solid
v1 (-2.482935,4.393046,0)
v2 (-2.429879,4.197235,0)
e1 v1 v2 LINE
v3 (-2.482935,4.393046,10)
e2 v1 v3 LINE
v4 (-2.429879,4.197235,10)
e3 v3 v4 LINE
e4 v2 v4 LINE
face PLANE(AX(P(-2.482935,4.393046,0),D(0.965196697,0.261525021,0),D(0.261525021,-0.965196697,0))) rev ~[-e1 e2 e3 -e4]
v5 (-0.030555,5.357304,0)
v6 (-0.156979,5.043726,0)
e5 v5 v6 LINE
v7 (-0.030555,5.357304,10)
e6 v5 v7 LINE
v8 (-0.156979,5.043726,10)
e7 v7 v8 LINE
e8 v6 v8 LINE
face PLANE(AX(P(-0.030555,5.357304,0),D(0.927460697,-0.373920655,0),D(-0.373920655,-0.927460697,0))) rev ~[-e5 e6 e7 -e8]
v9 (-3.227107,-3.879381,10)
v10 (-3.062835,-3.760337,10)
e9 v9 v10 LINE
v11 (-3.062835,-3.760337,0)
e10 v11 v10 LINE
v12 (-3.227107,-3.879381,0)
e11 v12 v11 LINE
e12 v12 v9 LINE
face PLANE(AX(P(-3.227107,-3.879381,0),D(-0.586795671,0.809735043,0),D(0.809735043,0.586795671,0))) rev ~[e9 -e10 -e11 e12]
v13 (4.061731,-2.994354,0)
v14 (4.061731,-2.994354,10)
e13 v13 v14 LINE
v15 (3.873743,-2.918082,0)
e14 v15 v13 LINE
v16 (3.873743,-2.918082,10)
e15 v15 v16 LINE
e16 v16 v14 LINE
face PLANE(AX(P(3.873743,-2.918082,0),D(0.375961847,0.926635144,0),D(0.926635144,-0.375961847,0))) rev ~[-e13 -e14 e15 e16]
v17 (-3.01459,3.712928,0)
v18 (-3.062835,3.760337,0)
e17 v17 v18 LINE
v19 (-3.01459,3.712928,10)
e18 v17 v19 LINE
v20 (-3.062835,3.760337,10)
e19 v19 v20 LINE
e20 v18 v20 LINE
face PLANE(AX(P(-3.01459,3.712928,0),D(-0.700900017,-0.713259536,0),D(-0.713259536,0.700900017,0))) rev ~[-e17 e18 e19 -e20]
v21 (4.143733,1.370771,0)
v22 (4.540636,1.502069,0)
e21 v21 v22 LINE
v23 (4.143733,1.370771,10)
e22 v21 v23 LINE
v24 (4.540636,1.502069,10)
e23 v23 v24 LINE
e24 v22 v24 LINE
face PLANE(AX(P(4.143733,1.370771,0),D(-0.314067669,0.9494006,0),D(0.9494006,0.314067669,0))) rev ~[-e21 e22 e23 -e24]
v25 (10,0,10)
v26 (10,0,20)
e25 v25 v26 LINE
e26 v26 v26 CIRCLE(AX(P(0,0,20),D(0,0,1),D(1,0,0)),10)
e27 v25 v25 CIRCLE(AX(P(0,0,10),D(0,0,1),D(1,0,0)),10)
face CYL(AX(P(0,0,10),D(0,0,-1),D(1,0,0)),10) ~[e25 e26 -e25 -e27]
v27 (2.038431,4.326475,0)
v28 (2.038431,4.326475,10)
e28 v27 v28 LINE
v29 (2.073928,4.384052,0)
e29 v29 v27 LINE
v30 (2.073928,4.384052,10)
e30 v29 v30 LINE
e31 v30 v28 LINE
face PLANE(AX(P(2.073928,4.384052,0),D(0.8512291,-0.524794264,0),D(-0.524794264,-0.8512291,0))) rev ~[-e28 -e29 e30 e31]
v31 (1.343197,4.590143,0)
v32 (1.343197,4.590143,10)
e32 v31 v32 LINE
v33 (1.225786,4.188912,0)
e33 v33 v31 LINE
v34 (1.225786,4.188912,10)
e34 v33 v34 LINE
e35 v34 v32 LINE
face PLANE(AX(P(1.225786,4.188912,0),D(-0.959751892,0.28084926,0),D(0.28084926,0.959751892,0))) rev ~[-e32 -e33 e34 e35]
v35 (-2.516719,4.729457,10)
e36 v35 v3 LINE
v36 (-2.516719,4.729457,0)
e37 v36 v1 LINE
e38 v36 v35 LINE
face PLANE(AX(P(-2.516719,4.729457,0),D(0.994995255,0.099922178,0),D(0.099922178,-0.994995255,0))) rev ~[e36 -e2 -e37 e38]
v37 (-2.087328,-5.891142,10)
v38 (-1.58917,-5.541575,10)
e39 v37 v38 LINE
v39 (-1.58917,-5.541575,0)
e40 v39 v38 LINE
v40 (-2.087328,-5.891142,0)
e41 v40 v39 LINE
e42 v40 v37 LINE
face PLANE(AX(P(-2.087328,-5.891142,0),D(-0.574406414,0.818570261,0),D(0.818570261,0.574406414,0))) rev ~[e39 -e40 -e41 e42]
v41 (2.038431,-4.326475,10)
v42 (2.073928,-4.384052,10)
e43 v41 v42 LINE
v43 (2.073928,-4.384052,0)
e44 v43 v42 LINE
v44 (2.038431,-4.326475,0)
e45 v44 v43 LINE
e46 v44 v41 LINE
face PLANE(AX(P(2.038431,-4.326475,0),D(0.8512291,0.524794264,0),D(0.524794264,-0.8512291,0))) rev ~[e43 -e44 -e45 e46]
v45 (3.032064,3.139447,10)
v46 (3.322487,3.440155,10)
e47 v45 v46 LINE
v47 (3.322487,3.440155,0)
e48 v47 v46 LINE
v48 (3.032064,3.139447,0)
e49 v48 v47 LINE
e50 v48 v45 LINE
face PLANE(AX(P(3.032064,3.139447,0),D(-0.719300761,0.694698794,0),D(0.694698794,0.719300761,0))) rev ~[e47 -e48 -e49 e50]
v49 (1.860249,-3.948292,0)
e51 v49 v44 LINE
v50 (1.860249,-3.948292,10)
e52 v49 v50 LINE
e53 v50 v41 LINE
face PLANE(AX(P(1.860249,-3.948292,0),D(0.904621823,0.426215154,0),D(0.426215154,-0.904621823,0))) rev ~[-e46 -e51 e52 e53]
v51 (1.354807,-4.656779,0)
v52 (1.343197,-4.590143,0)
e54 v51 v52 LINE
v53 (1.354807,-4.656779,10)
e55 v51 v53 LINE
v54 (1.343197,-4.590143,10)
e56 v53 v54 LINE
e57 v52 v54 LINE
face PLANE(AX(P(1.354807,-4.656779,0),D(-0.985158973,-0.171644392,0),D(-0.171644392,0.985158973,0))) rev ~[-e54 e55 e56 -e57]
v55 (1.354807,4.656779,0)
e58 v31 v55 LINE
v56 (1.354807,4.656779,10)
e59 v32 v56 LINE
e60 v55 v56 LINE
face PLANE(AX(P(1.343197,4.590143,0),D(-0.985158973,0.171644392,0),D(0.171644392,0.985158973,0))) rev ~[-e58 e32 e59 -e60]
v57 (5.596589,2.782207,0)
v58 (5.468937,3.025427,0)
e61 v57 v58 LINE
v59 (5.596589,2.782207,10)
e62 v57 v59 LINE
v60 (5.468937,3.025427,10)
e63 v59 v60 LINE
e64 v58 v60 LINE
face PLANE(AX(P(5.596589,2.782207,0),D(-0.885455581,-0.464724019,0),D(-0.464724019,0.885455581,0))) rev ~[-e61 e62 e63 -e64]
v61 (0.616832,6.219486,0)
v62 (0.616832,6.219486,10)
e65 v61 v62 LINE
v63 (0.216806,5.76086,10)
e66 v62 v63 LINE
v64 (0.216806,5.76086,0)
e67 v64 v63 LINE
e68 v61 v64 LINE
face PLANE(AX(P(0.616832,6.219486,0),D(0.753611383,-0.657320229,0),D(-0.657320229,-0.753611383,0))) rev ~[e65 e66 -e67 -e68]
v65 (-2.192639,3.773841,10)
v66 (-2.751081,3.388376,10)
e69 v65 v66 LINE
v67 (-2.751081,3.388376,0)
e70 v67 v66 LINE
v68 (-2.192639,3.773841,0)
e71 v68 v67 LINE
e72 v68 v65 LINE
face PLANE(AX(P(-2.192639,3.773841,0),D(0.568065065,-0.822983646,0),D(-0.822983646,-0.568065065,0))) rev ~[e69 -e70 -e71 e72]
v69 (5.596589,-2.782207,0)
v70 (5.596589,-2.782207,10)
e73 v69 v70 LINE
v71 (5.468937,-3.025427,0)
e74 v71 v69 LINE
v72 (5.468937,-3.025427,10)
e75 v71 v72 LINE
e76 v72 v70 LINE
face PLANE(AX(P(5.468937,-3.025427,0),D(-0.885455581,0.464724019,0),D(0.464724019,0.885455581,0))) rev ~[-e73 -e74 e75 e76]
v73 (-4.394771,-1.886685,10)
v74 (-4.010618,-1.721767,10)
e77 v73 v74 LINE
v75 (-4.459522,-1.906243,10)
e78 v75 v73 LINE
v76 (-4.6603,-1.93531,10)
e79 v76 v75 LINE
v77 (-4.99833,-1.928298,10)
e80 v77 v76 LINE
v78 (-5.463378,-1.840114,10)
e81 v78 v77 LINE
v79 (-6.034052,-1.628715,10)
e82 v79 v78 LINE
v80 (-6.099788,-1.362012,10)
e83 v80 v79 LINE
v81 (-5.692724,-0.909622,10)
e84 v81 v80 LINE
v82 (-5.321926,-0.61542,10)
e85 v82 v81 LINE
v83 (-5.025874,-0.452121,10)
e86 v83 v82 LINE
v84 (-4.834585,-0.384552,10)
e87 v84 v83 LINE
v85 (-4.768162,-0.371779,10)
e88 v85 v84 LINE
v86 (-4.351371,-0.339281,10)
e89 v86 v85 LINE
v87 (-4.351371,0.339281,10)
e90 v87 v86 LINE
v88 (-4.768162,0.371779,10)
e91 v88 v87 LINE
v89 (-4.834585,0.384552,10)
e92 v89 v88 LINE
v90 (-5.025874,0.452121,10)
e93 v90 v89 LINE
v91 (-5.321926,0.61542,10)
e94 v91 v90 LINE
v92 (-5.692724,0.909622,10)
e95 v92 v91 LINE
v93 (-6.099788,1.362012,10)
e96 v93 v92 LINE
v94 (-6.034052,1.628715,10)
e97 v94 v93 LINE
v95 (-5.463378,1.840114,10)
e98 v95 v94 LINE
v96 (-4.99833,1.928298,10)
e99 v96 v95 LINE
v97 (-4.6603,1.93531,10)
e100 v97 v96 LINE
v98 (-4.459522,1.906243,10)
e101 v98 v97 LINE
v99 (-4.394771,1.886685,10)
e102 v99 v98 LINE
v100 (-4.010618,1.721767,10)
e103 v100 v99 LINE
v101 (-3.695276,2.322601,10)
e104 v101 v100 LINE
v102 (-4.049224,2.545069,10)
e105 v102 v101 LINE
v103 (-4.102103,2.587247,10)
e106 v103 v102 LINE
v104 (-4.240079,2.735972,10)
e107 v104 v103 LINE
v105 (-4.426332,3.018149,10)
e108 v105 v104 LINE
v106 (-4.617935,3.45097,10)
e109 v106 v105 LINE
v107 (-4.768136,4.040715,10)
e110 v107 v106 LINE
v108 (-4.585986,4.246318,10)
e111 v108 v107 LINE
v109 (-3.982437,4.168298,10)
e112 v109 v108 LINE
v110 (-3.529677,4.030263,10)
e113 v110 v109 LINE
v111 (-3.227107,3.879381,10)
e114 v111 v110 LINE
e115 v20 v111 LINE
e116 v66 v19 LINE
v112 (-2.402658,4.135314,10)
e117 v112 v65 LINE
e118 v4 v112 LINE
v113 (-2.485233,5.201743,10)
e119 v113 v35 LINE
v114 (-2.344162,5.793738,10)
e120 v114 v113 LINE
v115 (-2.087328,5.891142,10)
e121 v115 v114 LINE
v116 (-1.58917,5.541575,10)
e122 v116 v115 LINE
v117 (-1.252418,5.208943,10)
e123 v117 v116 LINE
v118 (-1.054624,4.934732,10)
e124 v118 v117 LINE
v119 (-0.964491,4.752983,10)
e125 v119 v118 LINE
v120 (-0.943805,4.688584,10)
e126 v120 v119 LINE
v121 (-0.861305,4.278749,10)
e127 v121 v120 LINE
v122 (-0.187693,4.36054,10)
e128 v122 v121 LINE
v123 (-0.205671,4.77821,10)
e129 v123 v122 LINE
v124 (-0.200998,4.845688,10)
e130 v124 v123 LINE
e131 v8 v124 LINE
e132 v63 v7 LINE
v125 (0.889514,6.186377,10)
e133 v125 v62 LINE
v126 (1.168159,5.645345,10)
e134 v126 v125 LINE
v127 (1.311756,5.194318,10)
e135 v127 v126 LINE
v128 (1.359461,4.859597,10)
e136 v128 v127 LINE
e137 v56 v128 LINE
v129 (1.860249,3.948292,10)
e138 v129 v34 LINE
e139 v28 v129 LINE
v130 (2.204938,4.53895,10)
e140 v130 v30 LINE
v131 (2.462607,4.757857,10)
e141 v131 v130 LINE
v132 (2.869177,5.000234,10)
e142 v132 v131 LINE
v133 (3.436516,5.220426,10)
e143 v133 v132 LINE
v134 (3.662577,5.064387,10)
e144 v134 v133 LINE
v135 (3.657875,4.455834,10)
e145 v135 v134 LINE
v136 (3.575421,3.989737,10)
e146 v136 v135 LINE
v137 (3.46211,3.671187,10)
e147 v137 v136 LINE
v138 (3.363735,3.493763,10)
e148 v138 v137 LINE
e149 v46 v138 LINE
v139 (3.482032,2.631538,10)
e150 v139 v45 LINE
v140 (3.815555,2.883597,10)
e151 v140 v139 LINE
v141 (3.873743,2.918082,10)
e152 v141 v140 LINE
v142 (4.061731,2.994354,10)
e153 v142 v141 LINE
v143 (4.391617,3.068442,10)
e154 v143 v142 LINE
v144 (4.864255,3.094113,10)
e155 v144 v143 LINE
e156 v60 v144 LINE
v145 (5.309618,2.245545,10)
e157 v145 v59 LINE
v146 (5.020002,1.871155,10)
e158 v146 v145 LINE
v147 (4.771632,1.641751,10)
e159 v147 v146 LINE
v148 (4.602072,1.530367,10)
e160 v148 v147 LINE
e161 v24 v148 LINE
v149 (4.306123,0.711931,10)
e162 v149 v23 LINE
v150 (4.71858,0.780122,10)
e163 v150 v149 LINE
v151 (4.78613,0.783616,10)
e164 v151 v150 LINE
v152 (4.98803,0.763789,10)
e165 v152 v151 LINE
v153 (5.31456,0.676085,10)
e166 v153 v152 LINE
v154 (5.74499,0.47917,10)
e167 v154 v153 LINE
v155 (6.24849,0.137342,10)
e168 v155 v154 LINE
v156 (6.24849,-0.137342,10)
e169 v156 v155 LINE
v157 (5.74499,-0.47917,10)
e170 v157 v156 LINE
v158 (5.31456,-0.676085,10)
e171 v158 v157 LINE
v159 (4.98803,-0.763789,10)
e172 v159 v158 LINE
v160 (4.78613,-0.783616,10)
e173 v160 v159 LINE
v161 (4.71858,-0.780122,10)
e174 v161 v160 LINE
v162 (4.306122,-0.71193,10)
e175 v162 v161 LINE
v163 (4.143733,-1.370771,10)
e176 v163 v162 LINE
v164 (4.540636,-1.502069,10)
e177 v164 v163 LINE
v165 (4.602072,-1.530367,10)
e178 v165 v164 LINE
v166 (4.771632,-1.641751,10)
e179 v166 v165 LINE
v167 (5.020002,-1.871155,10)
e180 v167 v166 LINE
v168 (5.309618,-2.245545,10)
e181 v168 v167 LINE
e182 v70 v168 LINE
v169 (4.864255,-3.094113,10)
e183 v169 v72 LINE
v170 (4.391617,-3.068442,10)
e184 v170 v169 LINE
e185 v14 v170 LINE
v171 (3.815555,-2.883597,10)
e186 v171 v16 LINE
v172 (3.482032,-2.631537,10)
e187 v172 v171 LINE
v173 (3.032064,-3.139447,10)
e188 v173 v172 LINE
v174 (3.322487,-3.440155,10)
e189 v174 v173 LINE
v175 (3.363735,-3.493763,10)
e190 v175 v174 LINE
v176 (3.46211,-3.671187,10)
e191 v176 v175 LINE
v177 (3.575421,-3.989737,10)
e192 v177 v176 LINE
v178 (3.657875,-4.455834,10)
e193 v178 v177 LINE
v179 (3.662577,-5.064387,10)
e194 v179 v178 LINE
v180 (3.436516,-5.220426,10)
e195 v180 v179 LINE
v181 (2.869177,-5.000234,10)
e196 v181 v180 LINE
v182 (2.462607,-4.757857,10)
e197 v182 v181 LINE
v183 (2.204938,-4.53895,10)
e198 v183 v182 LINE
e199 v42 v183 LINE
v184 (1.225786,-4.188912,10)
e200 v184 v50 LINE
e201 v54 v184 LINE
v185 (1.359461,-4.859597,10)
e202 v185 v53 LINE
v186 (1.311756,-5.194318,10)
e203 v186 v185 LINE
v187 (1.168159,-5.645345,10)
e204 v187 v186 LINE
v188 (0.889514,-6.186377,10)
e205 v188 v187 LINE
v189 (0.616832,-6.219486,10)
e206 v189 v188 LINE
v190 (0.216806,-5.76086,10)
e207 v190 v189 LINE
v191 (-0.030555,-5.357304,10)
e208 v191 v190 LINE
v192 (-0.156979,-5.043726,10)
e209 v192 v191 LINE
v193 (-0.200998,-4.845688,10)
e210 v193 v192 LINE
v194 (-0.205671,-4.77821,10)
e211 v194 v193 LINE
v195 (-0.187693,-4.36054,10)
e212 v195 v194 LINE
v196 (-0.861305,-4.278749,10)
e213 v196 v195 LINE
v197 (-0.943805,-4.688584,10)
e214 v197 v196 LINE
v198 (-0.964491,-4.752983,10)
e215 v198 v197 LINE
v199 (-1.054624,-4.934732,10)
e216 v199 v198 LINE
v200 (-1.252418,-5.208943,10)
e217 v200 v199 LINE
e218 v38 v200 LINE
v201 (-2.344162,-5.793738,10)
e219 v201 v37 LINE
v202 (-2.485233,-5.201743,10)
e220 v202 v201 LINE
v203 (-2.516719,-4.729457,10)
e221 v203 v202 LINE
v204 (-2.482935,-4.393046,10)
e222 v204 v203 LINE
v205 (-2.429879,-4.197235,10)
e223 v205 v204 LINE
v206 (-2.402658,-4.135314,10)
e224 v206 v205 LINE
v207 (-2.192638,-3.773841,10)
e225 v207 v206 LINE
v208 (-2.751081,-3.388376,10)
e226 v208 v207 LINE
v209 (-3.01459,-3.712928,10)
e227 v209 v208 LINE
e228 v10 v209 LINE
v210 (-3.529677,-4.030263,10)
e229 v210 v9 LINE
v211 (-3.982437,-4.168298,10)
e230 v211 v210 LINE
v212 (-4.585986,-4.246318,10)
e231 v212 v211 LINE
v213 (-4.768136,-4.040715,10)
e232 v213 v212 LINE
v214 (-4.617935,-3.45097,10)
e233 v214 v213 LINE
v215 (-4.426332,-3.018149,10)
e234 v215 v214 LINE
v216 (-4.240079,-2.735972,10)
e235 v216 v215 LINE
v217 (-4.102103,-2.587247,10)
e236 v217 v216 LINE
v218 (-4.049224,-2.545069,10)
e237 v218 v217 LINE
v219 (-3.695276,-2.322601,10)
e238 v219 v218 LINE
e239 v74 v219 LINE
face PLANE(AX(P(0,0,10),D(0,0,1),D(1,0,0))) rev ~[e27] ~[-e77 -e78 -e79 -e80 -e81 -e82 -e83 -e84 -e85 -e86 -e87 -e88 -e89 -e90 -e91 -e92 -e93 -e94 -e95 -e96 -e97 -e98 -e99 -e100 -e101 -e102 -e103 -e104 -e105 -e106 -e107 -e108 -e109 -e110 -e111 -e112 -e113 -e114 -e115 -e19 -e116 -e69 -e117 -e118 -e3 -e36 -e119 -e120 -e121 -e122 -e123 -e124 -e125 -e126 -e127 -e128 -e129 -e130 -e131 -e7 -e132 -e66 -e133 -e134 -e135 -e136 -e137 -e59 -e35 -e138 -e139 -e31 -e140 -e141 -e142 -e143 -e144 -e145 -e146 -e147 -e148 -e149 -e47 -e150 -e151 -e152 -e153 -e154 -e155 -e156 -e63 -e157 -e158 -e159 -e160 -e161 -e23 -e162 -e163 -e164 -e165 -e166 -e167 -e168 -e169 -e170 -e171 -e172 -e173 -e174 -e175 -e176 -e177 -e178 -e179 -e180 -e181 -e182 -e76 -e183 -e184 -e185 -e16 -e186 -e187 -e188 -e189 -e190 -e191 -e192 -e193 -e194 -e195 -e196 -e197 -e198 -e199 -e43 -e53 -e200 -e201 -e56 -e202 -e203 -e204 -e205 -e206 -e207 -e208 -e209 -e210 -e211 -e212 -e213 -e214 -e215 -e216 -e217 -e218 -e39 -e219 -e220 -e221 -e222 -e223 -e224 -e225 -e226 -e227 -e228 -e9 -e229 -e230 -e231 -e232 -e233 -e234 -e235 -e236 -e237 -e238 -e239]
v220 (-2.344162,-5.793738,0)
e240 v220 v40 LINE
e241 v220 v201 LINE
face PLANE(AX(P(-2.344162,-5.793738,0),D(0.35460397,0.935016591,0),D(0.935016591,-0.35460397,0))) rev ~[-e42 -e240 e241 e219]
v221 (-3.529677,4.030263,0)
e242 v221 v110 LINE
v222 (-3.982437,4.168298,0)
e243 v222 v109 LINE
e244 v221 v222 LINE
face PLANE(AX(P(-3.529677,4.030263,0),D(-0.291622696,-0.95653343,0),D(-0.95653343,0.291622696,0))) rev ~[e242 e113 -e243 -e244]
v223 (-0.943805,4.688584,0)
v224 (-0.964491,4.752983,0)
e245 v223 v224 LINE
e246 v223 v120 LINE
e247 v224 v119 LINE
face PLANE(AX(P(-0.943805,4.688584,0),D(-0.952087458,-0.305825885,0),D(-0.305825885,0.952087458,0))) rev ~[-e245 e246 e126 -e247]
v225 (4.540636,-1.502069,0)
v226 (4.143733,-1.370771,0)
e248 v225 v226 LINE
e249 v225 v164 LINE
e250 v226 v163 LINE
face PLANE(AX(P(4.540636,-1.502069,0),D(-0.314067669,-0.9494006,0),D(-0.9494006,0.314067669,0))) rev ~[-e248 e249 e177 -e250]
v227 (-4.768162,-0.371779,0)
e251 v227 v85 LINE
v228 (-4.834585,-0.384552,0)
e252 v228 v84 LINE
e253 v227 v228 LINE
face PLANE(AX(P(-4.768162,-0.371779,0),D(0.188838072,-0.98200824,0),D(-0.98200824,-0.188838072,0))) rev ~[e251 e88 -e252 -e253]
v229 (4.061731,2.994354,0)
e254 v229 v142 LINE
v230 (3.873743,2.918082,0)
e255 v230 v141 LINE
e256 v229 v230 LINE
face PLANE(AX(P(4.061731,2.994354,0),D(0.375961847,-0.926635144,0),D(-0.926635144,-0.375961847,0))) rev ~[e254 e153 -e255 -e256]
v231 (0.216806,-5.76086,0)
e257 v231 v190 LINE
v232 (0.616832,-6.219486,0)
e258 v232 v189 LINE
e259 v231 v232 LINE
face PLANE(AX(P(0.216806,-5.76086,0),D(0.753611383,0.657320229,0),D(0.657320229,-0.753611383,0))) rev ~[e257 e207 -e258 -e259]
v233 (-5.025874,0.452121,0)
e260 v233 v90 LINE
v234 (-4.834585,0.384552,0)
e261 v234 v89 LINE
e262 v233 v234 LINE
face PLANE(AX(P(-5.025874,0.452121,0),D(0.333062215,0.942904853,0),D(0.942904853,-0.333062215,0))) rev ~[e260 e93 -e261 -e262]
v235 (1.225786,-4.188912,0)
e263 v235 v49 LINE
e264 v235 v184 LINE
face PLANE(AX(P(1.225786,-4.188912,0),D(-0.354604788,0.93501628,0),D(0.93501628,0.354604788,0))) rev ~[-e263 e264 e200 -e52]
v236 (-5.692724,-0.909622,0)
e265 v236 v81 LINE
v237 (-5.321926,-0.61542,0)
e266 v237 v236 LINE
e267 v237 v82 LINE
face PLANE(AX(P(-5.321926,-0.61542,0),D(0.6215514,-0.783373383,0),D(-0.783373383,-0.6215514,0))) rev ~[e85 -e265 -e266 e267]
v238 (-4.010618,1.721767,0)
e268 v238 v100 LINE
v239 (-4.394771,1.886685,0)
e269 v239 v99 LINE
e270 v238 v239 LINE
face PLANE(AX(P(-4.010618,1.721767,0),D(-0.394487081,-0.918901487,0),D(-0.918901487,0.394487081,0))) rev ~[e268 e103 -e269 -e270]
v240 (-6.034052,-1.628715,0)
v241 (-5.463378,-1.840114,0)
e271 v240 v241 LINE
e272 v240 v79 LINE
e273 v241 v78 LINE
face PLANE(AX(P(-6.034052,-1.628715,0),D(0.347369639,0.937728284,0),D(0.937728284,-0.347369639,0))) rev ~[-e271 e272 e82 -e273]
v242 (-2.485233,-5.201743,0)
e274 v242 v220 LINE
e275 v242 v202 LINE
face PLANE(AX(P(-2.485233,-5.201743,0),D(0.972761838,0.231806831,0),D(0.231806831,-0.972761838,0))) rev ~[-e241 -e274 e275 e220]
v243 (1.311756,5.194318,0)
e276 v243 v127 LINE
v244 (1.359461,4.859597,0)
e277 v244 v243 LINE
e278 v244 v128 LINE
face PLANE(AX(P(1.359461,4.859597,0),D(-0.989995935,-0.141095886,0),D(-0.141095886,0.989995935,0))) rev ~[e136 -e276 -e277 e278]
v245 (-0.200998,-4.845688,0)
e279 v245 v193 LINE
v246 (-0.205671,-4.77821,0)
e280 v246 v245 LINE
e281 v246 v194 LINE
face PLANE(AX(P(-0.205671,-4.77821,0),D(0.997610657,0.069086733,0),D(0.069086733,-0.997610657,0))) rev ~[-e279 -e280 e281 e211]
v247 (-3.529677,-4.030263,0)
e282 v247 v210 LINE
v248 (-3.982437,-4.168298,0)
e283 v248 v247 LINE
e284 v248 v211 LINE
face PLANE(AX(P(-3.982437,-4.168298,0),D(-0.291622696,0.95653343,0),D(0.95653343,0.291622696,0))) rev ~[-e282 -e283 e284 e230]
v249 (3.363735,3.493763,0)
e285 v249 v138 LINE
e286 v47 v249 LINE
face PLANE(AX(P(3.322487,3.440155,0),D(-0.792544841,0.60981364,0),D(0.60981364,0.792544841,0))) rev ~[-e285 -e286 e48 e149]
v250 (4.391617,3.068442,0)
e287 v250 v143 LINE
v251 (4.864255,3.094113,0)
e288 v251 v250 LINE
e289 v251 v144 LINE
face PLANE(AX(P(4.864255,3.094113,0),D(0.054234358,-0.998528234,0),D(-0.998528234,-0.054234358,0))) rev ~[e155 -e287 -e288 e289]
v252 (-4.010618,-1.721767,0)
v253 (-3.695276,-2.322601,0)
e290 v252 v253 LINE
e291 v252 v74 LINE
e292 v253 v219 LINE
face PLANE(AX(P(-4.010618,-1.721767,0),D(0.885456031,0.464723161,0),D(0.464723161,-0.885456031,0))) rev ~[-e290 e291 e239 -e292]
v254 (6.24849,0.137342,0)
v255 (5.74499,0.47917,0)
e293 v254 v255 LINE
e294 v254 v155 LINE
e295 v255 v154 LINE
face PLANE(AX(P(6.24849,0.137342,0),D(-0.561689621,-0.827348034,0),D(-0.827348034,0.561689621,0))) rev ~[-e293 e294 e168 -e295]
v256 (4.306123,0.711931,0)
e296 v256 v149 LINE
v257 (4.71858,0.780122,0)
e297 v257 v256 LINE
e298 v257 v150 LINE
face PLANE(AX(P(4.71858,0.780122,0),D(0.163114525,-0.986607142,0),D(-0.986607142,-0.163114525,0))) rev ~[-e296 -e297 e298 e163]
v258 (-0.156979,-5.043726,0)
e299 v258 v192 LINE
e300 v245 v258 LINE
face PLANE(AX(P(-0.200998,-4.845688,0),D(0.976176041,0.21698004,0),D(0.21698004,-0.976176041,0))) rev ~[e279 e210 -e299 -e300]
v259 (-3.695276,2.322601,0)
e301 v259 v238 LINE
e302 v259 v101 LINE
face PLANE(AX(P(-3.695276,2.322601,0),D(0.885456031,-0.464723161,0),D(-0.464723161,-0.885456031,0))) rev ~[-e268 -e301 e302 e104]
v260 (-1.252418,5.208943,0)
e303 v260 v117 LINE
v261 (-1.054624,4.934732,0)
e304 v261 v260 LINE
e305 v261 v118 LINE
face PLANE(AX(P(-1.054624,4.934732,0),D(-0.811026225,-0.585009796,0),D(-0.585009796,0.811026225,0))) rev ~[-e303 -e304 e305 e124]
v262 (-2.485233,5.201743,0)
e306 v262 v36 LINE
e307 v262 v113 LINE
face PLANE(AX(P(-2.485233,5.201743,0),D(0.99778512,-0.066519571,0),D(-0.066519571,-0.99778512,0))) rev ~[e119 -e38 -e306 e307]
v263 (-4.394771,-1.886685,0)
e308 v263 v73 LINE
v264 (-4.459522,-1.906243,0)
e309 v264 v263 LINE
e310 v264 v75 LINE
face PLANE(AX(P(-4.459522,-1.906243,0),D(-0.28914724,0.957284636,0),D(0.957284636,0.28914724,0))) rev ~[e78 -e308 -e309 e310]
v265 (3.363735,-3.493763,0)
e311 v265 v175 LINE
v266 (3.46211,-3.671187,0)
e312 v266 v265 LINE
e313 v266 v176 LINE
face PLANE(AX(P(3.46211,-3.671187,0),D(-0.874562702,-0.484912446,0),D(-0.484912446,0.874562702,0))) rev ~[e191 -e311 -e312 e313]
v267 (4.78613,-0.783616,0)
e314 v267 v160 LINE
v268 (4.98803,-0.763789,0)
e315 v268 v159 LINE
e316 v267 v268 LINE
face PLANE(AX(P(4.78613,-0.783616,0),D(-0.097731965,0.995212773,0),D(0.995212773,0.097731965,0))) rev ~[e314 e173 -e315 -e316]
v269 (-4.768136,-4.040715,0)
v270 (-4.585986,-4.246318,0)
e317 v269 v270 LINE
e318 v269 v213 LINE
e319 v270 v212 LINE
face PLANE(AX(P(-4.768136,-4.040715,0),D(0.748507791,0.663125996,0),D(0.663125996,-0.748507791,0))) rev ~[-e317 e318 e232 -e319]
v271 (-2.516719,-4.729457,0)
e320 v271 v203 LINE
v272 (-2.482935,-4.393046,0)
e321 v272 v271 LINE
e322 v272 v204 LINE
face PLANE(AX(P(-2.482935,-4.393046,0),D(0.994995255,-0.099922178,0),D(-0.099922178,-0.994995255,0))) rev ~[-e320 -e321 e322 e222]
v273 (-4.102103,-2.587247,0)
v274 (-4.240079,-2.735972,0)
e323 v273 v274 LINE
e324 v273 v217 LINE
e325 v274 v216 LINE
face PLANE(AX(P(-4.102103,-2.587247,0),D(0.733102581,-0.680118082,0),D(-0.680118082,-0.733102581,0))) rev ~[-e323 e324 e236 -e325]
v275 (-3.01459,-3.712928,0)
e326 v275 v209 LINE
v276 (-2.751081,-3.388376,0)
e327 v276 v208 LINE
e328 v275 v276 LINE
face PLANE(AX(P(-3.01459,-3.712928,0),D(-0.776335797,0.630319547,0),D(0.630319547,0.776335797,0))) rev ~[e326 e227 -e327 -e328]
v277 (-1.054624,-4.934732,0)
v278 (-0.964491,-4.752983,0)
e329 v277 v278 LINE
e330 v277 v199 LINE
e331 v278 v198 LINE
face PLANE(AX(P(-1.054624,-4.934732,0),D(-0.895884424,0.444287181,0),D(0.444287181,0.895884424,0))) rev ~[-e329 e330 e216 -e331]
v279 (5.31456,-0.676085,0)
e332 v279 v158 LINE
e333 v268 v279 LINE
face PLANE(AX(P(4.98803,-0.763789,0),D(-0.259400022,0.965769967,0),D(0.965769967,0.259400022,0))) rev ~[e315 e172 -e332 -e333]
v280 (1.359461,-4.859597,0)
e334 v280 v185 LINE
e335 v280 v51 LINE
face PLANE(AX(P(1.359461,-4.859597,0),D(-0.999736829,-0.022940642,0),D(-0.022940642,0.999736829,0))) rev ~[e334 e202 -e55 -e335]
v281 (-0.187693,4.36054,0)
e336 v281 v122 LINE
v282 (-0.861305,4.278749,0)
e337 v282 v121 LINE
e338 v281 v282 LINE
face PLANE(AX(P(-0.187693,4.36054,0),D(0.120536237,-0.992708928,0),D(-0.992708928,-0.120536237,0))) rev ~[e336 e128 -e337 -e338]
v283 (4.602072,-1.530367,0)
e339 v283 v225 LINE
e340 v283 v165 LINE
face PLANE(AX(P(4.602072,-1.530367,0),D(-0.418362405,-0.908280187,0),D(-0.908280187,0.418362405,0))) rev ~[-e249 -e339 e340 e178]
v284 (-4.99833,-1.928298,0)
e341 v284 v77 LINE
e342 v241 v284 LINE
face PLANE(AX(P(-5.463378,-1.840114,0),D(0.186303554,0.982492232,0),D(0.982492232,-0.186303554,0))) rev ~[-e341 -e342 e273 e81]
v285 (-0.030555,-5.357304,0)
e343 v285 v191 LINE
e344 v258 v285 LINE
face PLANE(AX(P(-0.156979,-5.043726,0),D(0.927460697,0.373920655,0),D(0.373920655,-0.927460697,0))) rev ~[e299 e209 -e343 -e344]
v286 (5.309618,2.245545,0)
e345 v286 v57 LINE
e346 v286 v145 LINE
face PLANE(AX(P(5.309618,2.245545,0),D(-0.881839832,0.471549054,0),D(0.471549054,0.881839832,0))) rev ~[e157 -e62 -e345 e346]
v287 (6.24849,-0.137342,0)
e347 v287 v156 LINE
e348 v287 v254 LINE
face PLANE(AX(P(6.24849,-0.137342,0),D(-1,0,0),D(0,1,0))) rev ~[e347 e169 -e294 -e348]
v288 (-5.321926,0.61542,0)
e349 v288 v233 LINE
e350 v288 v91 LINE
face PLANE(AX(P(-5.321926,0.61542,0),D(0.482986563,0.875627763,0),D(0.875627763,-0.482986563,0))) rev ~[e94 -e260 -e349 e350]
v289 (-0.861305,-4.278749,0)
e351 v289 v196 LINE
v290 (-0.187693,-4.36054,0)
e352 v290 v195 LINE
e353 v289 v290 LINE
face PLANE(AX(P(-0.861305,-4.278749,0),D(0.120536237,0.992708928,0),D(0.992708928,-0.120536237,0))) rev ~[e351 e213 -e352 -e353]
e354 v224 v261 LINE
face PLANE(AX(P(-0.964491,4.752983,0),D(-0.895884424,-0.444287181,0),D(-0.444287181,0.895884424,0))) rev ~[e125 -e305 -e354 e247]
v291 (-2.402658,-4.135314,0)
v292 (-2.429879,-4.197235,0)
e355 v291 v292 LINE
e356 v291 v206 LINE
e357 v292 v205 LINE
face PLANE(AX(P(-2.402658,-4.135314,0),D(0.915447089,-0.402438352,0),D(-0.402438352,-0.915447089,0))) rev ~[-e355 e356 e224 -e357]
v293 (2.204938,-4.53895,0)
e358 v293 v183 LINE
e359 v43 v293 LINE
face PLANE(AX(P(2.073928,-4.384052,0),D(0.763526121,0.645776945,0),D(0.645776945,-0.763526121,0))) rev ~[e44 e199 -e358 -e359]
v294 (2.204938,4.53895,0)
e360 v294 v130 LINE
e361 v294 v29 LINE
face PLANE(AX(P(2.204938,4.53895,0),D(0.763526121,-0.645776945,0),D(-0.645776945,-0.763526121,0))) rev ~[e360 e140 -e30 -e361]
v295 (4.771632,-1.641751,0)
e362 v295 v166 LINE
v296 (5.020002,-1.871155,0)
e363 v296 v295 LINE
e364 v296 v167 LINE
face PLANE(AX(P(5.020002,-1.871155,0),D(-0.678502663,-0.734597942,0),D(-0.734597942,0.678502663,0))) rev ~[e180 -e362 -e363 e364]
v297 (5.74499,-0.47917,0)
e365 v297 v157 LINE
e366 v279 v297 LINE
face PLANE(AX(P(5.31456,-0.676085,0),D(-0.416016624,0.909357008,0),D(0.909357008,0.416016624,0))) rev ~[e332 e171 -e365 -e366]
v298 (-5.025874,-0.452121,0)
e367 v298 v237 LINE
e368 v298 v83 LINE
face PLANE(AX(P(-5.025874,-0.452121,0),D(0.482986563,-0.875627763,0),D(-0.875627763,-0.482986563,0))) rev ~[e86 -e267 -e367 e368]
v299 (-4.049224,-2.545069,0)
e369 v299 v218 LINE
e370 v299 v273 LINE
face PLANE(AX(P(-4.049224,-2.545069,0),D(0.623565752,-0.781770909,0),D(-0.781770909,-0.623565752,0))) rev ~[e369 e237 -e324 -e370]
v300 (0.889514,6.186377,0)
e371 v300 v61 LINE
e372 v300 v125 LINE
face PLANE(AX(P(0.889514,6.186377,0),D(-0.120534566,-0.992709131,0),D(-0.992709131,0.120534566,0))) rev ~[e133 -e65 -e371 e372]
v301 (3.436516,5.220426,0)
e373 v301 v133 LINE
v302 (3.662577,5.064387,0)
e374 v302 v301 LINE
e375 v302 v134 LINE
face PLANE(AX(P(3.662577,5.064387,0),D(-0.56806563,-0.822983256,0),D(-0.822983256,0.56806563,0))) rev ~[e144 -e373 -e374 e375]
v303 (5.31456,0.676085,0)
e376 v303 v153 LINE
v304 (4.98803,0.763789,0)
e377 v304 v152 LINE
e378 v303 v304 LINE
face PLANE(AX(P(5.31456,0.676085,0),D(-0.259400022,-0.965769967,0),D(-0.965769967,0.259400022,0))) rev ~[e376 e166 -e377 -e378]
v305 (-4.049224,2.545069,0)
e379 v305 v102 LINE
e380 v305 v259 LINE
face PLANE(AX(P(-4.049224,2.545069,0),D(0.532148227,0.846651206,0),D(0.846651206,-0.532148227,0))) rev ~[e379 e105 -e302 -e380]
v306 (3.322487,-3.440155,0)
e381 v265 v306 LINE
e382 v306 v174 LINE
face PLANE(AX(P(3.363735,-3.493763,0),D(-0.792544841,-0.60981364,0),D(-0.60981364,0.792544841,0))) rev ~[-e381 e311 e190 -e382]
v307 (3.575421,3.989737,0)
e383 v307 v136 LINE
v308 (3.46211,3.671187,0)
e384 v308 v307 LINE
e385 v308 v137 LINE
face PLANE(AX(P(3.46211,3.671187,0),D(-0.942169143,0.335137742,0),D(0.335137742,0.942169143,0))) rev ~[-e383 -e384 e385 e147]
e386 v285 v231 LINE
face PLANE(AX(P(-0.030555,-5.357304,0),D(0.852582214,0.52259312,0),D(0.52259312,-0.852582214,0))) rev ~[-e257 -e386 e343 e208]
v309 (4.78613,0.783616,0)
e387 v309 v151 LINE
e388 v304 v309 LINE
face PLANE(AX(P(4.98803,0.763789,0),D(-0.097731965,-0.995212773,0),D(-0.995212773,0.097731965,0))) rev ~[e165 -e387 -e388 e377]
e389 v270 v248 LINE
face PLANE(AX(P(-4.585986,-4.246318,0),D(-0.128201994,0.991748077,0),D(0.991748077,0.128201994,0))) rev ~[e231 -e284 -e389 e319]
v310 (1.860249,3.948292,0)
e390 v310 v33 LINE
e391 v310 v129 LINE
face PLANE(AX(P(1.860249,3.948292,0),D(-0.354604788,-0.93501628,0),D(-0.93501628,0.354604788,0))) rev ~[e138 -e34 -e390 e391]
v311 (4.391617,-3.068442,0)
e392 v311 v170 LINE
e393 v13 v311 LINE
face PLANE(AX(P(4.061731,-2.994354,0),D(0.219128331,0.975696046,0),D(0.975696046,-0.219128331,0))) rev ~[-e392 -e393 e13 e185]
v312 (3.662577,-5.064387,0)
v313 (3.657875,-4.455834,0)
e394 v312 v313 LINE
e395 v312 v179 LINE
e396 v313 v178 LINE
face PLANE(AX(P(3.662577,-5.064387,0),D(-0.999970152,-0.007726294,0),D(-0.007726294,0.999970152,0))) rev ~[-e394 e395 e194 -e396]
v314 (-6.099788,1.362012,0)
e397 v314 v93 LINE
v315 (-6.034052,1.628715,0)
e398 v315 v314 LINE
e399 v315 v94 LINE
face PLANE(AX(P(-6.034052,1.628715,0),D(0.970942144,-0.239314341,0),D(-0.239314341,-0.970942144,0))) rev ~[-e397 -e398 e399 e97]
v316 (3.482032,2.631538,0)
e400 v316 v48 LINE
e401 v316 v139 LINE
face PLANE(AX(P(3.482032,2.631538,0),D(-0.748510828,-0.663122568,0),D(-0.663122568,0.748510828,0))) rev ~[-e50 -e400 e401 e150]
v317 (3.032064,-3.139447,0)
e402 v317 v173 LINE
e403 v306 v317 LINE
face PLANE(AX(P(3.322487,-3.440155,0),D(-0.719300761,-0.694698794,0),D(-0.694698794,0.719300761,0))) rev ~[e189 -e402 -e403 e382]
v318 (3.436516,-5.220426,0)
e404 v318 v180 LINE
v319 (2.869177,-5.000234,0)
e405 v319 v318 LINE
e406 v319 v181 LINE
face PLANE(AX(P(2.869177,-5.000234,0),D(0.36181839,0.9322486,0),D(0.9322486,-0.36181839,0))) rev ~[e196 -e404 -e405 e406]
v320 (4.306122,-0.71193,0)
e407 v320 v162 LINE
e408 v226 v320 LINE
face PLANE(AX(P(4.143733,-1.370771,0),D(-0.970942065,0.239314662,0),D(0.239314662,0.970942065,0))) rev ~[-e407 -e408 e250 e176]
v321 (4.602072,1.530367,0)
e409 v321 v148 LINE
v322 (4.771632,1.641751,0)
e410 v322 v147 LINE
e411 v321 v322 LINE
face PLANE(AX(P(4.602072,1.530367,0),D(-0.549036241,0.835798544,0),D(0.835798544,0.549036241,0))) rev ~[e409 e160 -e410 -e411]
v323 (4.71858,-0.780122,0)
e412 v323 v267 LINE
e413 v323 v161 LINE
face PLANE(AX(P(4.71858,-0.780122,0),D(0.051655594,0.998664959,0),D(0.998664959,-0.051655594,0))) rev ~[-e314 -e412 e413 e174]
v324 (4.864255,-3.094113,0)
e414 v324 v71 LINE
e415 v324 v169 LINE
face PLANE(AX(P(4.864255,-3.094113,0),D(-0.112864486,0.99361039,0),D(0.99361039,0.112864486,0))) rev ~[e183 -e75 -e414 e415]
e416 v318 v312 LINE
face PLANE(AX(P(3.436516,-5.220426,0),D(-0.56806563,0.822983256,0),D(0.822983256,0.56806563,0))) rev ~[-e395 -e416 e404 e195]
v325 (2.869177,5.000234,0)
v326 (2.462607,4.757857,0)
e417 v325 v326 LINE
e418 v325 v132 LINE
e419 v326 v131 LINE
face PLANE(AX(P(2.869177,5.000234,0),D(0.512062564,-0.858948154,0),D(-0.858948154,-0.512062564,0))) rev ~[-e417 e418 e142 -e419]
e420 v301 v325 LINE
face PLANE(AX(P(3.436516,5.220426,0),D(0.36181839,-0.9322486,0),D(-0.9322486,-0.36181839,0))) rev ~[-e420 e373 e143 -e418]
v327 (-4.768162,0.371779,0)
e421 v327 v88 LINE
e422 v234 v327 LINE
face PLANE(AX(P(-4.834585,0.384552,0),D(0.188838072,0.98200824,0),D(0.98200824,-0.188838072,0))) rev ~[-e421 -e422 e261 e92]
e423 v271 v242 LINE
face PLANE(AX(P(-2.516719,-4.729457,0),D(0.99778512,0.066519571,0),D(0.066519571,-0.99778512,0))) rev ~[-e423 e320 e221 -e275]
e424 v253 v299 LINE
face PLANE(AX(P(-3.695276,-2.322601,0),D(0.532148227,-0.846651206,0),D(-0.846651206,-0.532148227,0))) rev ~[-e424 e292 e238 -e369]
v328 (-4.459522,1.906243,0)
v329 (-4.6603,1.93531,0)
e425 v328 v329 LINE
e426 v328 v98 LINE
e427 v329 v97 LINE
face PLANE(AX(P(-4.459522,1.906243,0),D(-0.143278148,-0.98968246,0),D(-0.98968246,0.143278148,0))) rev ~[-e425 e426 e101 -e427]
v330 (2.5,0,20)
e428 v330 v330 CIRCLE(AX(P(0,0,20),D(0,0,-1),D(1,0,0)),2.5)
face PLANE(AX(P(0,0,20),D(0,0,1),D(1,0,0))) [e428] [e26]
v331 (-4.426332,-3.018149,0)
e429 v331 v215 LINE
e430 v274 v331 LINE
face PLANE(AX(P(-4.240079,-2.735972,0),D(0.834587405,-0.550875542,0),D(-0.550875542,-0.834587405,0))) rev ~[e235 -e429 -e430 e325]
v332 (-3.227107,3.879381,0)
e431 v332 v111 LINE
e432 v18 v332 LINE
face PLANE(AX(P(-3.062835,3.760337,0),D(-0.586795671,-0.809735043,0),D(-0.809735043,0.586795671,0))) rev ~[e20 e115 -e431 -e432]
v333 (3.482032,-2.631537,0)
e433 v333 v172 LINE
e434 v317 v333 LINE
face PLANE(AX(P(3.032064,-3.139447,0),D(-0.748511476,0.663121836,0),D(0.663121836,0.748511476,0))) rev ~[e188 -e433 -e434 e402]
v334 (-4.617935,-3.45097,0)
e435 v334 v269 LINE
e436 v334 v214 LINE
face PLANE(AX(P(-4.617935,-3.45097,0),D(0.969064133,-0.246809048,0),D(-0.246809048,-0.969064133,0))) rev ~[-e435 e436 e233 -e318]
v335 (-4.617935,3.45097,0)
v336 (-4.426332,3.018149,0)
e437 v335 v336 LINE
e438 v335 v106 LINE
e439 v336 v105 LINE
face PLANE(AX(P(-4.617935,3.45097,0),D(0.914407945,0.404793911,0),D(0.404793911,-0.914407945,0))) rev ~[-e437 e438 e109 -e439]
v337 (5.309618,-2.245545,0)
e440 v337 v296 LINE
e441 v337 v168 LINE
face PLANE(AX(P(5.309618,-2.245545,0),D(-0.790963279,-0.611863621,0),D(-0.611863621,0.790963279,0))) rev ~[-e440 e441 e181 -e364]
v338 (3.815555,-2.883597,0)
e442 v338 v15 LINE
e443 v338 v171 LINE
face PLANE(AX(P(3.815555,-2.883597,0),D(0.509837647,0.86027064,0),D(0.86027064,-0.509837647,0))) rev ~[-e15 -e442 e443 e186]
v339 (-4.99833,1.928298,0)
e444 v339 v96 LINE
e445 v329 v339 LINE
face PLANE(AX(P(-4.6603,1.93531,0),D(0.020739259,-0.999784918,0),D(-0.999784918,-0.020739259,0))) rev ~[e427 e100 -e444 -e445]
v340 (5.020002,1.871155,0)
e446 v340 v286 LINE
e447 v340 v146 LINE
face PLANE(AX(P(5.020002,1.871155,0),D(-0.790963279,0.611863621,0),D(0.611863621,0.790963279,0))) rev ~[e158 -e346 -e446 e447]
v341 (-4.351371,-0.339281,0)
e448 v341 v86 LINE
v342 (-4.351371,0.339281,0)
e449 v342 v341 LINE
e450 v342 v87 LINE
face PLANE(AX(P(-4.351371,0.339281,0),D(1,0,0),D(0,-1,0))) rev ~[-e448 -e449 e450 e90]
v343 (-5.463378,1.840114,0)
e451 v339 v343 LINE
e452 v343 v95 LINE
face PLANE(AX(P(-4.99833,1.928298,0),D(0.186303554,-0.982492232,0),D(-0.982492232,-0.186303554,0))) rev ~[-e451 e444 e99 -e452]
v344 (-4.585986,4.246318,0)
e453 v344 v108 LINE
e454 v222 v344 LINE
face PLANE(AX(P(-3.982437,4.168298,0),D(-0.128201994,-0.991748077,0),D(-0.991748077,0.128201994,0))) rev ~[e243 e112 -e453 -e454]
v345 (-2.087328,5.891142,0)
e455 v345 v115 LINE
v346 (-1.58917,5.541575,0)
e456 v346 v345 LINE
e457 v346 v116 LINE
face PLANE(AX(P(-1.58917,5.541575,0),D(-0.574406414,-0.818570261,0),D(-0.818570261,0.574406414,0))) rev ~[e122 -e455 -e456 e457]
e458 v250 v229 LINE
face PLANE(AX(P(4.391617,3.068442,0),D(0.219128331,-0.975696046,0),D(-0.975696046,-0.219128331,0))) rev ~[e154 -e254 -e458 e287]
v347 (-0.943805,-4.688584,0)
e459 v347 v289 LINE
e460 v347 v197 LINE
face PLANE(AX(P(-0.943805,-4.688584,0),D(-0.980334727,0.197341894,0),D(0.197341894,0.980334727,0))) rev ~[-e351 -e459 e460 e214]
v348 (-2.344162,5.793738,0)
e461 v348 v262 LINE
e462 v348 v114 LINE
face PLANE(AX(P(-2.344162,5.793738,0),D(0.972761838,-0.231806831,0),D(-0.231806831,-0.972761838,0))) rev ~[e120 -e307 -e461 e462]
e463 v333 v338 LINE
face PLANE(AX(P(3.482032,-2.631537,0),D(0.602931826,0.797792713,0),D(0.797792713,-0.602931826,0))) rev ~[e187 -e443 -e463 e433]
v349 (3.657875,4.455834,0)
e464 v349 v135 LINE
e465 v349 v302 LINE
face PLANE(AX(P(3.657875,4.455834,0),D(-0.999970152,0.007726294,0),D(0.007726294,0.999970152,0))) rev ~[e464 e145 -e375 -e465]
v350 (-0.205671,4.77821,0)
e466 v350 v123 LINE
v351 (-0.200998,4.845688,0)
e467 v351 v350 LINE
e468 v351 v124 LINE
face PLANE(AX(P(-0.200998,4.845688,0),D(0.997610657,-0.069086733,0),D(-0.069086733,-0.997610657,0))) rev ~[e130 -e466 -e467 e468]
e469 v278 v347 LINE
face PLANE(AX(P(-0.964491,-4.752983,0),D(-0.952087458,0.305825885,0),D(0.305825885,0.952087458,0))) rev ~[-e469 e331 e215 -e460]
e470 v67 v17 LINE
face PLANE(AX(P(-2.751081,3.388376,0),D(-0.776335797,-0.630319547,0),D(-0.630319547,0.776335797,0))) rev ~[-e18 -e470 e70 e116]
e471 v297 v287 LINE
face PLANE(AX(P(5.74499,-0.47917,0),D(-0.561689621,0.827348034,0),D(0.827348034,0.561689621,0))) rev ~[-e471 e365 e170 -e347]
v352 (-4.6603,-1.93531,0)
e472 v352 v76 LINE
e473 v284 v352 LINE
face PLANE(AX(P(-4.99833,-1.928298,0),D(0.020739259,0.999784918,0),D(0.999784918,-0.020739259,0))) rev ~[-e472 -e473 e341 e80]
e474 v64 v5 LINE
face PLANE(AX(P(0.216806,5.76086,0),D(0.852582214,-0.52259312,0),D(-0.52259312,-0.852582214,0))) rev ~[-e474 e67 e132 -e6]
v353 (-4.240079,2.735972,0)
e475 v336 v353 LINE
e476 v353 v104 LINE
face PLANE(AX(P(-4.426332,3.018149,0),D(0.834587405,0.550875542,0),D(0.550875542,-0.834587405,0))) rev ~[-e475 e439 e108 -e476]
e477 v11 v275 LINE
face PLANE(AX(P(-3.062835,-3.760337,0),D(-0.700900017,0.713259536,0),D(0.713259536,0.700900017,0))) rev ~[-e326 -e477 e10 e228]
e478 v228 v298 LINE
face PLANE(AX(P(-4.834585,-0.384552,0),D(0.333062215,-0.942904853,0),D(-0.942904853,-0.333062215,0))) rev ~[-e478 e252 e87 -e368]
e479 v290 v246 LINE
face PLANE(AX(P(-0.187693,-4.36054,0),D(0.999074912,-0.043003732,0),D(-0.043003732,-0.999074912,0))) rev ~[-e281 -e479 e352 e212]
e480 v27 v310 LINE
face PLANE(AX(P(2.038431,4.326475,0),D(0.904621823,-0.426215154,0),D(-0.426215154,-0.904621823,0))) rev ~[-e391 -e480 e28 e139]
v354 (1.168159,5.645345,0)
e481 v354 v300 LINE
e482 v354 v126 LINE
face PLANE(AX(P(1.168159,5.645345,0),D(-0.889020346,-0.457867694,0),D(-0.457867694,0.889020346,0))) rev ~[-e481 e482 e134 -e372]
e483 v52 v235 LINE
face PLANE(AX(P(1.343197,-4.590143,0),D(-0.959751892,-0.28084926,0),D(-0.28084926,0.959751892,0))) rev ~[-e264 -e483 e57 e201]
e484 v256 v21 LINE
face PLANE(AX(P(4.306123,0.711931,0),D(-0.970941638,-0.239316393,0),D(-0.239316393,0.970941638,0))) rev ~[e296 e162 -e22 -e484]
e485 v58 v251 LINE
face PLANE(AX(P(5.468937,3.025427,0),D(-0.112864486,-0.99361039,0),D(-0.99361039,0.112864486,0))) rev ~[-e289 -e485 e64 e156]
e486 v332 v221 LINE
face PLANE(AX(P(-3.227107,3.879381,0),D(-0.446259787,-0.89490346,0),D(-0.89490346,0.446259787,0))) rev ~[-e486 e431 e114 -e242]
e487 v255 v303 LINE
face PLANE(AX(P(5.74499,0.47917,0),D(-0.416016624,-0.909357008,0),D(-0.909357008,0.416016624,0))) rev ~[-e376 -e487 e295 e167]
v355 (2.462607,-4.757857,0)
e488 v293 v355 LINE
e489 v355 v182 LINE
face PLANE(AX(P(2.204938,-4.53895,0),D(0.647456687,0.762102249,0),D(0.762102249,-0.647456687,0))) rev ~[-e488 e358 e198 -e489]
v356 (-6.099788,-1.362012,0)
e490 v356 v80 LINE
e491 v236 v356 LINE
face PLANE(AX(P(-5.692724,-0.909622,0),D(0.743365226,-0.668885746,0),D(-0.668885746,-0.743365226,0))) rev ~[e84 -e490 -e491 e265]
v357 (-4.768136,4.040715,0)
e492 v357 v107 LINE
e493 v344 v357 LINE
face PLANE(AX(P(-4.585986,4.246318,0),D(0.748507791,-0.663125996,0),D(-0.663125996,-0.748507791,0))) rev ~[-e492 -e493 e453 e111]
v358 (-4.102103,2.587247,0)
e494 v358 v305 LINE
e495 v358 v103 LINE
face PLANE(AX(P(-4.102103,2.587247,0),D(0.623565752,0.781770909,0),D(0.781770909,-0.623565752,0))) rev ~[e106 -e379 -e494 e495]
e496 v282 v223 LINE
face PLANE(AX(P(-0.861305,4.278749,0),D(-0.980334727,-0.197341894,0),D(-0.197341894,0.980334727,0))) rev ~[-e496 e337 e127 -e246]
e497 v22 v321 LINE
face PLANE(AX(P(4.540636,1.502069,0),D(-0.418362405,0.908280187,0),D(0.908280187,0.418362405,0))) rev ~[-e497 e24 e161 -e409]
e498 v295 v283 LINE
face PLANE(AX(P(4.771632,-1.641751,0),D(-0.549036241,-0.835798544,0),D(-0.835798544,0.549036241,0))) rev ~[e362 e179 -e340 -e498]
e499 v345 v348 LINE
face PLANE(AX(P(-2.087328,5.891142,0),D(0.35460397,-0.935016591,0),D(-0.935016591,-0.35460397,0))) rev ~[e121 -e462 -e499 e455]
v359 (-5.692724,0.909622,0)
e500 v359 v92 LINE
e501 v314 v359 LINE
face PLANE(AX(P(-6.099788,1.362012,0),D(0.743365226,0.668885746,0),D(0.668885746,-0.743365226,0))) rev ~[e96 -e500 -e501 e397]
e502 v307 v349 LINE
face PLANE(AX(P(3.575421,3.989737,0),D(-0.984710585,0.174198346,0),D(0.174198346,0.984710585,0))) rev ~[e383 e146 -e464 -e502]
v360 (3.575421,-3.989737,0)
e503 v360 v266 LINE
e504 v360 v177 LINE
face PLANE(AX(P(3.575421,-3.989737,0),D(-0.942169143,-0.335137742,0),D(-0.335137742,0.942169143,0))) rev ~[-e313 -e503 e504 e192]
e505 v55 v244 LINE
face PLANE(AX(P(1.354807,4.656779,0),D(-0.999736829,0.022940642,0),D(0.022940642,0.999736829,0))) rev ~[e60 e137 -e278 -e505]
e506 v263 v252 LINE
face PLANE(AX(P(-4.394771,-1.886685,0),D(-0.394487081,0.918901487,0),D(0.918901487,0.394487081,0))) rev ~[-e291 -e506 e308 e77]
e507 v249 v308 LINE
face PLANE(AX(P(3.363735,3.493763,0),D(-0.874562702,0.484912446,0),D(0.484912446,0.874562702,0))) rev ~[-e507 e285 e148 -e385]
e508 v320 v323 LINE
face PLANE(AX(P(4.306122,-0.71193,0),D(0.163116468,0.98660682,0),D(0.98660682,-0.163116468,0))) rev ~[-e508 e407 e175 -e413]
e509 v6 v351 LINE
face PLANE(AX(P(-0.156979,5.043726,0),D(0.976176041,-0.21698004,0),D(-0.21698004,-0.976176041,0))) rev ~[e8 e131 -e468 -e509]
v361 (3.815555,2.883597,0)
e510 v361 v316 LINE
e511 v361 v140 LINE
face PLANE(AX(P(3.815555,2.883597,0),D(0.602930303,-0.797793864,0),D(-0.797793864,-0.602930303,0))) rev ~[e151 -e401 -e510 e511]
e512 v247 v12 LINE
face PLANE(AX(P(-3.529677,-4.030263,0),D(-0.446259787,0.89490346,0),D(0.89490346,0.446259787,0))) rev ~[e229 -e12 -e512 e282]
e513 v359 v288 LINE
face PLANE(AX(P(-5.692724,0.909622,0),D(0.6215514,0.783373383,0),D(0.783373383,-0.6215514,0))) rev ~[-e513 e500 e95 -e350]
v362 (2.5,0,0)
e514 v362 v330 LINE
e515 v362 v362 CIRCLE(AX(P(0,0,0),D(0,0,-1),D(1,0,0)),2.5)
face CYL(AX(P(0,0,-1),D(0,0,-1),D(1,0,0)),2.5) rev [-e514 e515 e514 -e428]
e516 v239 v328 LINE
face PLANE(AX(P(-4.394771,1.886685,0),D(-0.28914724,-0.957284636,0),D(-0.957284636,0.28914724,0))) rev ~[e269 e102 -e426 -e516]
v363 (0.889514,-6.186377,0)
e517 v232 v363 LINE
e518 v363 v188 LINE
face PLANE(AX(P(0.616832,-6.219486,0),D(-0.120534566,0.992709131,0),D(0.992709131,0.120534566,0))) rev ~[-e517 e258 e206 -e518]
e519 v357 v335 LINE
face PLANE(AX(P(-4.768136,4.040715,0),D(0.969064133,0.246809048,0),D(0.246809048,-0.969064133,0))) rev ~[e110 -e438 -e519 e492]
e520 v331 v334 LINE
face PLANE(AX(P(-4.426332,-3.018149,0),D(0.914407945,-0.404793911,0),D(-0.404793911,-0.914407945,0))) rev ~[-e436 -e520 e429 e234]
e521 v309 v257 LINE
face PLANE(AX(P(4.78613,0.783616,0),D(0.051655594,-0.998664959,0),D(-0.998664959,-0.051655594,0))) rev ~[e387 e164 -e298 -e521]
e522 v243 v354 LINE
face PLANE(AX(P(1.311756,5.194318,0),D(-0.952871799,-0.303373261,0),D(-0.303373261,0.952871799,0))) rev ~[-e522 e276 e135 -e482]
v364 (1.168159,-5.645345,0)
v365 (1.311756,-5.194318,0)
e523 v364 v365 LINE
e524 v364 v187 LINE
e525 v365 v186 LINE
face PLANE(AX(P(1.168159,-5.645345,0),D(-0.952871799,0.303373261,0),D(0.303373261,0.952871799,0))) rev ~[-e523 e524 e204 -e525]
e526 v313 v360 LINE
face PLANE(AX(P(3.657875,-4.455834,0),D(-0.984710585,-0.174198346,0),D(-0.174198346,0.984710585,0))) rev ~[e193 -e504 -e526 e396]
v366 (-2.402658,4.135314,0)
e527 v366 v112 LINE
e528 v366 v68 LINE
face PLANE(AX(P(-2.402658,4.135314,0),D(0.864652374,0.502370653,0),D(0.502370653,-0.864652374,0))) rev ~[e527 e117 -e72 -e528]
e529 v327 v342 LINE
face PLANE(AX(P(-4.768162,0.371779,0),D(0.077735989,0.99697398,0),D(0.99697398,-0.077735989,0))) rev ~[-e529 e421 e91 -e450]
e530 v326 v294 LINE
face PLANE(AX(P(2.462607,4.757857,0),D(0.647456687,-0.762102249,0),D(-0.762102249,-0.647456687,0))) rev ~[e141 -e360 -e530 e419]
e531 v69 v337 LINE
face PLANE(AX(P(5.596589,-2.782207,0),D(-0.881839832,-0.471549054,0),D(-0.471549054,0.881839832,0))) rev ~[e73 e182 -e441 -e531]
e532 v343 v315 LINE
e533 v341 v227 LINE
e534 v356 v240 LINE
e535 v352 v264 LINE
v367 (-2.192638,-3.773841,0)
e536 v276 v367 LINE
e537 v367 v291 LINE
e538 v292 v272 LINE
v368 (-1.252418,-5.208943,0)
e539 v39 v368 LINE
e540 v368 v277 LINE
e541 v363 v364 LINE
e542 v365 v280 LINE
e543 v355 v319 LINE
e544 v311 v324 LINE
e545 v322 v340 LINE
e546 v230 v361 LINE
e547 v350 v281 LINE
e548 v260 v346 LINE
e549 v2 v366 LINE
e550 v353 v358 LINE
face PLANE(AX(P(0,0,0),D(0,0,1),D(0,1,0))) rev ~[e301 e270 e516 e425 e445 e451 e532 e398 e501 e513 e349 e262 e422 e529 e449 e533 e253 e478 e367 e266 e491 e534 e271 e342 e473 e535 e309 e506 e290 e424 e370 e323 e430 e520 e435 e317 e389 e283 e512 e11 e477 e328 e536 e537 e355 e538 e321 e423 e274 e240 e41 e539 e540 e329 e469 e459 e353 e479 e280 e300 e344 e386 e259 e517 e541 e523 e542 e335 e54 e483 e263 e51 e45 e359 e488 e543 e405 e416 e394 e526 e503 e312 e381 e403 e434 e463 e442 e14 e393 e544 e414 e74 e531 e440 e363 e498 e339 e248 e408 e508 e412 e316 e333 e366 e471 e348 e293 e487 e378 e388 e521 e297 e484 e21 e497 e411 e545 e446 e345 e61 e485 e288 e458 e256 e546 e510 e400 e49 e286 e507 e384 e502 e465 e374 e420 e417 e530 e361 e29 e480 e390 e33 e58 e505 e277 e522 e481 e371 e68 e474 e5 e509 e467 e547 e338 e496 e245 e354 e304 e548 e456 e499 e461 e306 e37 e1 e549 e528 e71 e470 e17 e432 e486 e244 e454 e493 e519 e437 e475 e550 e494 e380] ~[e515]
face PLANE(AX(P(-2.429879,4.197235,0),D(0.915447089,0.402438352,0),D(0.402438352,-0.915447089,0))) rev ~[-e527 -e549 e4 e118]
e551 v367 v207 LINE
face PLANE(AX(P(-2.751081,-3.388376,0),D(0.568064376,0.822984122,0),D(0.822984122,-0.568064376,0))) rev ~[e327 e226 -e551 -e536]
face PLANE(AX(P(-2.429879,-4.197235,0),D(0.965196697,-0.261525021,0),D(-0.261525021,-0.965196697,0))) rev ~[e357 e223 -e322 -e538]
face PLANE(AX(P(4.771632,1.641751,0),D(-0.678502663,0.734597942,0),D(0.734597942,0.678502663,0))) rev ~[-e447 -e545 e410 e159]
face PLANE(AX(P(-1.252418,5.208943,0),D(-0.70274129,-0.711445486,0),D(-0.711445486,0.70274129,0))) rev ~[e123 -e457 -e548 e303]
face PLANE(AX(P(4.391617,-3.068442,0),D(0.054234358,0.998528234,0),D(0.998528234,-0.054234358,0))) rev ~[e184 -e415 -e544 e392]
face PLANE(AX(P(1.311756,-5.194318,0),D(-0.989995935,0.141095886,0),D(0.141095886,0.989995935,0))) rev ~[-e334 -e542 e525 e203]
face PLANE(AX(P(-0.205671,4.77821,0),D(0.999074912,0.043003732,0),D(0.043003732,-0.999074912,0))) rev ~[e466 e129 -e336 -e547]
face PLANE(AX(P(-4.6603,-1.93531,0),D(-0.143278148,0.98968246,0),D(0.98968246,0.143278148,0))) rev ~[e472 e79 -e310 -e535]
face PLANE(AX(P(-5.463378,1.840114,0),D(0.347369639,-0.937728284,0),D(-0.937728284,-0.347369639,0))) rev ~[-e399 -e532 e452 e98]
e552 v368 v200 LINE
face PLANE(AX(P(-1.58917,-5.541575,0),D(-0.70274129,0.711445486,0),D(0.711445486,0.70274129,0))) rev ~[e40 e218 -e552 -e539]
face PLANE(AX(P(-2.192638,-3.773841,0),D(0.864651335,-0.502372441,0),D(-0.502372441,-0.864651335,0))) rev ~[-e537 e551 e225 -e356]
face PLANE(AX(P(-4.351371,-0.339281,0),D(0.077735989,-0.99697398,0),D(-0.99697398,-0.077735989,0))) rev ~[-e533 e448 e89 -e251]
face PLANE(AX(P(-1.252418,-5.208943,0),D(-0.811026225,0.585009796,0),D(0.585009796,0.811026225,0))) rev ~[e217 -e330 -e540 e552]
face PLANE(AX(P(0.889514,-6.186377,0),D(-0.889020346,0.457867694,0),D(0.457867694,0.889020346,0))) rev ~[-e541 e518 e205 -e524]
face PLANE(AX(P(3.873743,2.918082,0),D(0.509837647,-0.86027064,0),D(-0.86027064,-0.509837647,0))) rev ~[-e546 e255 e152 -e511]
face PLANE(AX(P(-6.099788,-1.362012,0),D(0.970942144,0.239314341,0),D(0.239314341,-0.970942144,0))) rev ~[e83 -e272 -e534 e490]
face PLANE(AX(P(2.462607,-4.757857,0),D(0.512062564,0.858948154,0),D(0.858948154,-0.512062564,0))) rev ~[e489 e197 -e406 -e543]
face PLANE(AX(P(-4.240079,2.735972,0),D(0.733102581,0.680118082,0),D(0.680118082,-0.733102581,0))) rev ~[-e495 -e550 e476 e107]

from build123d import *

# Parameters (mm, degrees)
CYLINDER003_R          = 2.5
CYLINDER003_DEPTH      = 22
CYLINDER002_R          = 10
CYLINDER002_DEPTH      = 10
LINEAREXTRUDE002_DEPTH = 10


with BuildPart() as cylinder003:
    # cylinder003 → cylinder003 (new body)
    with BuildSketch(Plane.XY.offset(-1)):
        Circle(CYLINDER003_R)
    extrude(amount=CYLINDER003_DEPTH)


with BuildPart() as cylinder002:
    # cylinder002 → cylinder002 (new body)
    with BuildSketch(Plane.XY.offset(10)):
        Circle(CYLINDER002_R)
    extrude(amount=CYLINDER002_DEPTH)


with BuildPart() as difference003:
    # union002 → LinearExtrude002 (new body)
    with BuildSketch(Plane(origin=(0, 0, 0), x_dir=(0, 1, 0), z_dir=(0, 0, 1))):
        Polygon((0.711931, -4.306123), (1.370771, -4.143733), (1.502069, -4.540636), (1.530367, -4.602072), (1.641751, -4.771632), (1.871155, -5.020002), (2.245545, -5.309618), (2.782207, -5.596589), (3.025427, -5.468937), (3.094113, -4.864255), (3.068442, -4.391617), (2.994354, -4.061731), (2.918082, -3.873743), (2.883597, -3.815555), (2.631538, -3.482032), (3.139447, -3.032064), (3.440155, -3.322487), (3.493763, -3.363735), (3.671187, -3.46211), (3.989737, -3.575421), (4.455834, -3.657875), (5.064387, -3.662577), (5.220426, -3.436516), (5.000234, -2.869177), (4.757857, -2.462607), (4.53895, -2.204938), (4.384052, -2.073928), (4.326475, -2.038431), (3.948292, -1.860249), (4.188912, -1.225786), (4.590143, -1.343197), (4.656779, -1.354807), (4.859597, -1.359461), (5.194318, -1.311756), (5.645345, -1.168159), (6.186377, -0.889514), (6.219486, -0.616832), (5.76086, -0.216806), (5.357304, 0.030555), (5.043726, 0.156979), (4.845688, 0.200998), (4.77821, 0.205671), (4.36054, 0.187693), (4.278749, 0.861305), (4.688584, 0.943805), (4.752983, 0.964491), (4.934732, 1.054624), (5.208943, 1.252418), (5.541575, 1.58917), (5.891142, 2.087328), (5.793738, 2.344162), (5.201743, 2.485233), (4.729457, 2.516719), (4.393046, 2.482935), (4.197235, 2.429879), (4.135314, 2.402658), (3.773841, 2.192639), (3.388376, 2.751081), (3.712928, 3.01459), (3.760337, 3.062835), (3.879381, 3.227107), (4.030263, 3.529677), (4.168298, 3.982437), (4.246318, 4.585986), (4.040715, 4.768136), (3.45097, 4.617935), (3.018149, 4.426332), (2.735972, 4.240079), (2.587247, 4.102103), (2.545069, 4.049224), (2.322601, 3.695276), (1.721767, 4.010618), (1.886685, 4.394771), (1.906243, 4.459522), (1.93531, 4.6603), (1.928298, 4.99833), (1.840114, 5.463378), (1.628715, 6.034052), (1.362012, 6.099788), (0.909622, 5.692724), (0.61542, 5.321926), (0.452121, 5.025874), (0.384552, 4.834585), (0.371779, 4.768162), (0.339281, 4.351371), (-0.339281, 4.351371), (-0.371779, 4.768162), (-0.384552, 4.834585), (-0.452121, 5.025874), (-0.61542, 5.321926), (-0.909622, 5.692724), (-1.362012, 6.099788), (-1.628715, 6.034052), (-1.840114, 5.463378), (-1.928298, 4.99833), (-1.93531, 4.6603), (-1.906243, 4.459522), (-1.886685, 4.394771), (-1.721767, 4.010618), (-2.322601, 3.695276), (-2.545069, 4.049224), (-2.587247, 4.102103), (-2.735972, 4.240079), (-3.018149, 4.426332), (-3.45097, 4.617935), (-4.040715, 4.768136), (-4.246318, 4.585986), (-4.168298, 3.982437), (-4.030263, 3.529677), (-3.879381, 3.227107), (-3.760337, 3.062835), (-3.712928, 3.01459), (-3.388376, 2.751081), (-3.773841, 2.192638), (-4.135314, 2.402658), (-4.197235, 2.429879), (-4.393046, 2.482935), (-4.729457, 2.516719), (-5.201743, 2.485233), (-5.793738, 2.344162), (-5.891142, 2.087328), (-5.541575, 1.58917), (-5.208943, 1.252418), (-4.934732, 1.054624), (-4.752983, 0.964491), (-4.688584, 0.943805), (-4.278749, 0.861305), (-4.36054, 0.187693), (-4.77821, 0.205671), (-4.845688, 0.200998), (-5.043726, 0.156979), (-5.357304, 0.030555), (-5.76086, -0.216806), (-6.219486, -0.616832), (-6.186377, -0.889514), (-5.645345, -1.168159), (-5.194318, -1.311756), (-4.859597, -1.359461), (-4.656779, -1.354807), (-4.590143, -1.343197), (-4.188912, -1.225786), (-3.948292, -1.860249), (-4.326475, -2.038431), (-4.384052, -2.073928), (-4.53895, -2.204938), (-4.757857, -2.462607), (-5.000234, -2.869177), (-5.220426, -3.436516), (-5.064387, -3.662577), (-4.455834, -3.657875), (-3.989737, -3.575421), (-3.671187, -3.46211), (-3.493763, -3.363735), (-3.440155, -3.322487), (-3.139447, -3.032064), (-2.631537, -3.482032), (-2.883597, -3.815555), (-2.918082, -3.873743), (-2.994354, -4.061731), (-3.068442, -4.391617), (-3.094113, -4.864255), (-3.025427, -5.468937), (-2.782207, -5.596589), (-2.245545, -5.309618), (-1.871155, -5.020002), (-1.641751, -4.771632), (-1.530367, -4.602072), (-1.502069, -4.540636), (-1.370771, -4.143733), (-0.71193, -4.306122), (-0.780122, -4.71858), (-0.783616, -4.78613), (-0.763789, -4.98803), (-0.676085, -5.31456), (-0.47917, -5.74499), (-0.137342, -6.24849), (0.137342, -6.24849), (0.47917, -5.74499), (0.676085, -5.31456), (0.763789, -4.98803), (0.783616, -4.78613), (0.780122, -4.71858), align=None)
    extrude(amount=LINEAREXTRUDE002_DEPTH)

    # union003: union cylinder002
    add(cylinder002.part)

    # difference003: cut cylinder003
    add(cylinder003.part, mode=Mode.SUBTRACT)


solid = difference003.part
